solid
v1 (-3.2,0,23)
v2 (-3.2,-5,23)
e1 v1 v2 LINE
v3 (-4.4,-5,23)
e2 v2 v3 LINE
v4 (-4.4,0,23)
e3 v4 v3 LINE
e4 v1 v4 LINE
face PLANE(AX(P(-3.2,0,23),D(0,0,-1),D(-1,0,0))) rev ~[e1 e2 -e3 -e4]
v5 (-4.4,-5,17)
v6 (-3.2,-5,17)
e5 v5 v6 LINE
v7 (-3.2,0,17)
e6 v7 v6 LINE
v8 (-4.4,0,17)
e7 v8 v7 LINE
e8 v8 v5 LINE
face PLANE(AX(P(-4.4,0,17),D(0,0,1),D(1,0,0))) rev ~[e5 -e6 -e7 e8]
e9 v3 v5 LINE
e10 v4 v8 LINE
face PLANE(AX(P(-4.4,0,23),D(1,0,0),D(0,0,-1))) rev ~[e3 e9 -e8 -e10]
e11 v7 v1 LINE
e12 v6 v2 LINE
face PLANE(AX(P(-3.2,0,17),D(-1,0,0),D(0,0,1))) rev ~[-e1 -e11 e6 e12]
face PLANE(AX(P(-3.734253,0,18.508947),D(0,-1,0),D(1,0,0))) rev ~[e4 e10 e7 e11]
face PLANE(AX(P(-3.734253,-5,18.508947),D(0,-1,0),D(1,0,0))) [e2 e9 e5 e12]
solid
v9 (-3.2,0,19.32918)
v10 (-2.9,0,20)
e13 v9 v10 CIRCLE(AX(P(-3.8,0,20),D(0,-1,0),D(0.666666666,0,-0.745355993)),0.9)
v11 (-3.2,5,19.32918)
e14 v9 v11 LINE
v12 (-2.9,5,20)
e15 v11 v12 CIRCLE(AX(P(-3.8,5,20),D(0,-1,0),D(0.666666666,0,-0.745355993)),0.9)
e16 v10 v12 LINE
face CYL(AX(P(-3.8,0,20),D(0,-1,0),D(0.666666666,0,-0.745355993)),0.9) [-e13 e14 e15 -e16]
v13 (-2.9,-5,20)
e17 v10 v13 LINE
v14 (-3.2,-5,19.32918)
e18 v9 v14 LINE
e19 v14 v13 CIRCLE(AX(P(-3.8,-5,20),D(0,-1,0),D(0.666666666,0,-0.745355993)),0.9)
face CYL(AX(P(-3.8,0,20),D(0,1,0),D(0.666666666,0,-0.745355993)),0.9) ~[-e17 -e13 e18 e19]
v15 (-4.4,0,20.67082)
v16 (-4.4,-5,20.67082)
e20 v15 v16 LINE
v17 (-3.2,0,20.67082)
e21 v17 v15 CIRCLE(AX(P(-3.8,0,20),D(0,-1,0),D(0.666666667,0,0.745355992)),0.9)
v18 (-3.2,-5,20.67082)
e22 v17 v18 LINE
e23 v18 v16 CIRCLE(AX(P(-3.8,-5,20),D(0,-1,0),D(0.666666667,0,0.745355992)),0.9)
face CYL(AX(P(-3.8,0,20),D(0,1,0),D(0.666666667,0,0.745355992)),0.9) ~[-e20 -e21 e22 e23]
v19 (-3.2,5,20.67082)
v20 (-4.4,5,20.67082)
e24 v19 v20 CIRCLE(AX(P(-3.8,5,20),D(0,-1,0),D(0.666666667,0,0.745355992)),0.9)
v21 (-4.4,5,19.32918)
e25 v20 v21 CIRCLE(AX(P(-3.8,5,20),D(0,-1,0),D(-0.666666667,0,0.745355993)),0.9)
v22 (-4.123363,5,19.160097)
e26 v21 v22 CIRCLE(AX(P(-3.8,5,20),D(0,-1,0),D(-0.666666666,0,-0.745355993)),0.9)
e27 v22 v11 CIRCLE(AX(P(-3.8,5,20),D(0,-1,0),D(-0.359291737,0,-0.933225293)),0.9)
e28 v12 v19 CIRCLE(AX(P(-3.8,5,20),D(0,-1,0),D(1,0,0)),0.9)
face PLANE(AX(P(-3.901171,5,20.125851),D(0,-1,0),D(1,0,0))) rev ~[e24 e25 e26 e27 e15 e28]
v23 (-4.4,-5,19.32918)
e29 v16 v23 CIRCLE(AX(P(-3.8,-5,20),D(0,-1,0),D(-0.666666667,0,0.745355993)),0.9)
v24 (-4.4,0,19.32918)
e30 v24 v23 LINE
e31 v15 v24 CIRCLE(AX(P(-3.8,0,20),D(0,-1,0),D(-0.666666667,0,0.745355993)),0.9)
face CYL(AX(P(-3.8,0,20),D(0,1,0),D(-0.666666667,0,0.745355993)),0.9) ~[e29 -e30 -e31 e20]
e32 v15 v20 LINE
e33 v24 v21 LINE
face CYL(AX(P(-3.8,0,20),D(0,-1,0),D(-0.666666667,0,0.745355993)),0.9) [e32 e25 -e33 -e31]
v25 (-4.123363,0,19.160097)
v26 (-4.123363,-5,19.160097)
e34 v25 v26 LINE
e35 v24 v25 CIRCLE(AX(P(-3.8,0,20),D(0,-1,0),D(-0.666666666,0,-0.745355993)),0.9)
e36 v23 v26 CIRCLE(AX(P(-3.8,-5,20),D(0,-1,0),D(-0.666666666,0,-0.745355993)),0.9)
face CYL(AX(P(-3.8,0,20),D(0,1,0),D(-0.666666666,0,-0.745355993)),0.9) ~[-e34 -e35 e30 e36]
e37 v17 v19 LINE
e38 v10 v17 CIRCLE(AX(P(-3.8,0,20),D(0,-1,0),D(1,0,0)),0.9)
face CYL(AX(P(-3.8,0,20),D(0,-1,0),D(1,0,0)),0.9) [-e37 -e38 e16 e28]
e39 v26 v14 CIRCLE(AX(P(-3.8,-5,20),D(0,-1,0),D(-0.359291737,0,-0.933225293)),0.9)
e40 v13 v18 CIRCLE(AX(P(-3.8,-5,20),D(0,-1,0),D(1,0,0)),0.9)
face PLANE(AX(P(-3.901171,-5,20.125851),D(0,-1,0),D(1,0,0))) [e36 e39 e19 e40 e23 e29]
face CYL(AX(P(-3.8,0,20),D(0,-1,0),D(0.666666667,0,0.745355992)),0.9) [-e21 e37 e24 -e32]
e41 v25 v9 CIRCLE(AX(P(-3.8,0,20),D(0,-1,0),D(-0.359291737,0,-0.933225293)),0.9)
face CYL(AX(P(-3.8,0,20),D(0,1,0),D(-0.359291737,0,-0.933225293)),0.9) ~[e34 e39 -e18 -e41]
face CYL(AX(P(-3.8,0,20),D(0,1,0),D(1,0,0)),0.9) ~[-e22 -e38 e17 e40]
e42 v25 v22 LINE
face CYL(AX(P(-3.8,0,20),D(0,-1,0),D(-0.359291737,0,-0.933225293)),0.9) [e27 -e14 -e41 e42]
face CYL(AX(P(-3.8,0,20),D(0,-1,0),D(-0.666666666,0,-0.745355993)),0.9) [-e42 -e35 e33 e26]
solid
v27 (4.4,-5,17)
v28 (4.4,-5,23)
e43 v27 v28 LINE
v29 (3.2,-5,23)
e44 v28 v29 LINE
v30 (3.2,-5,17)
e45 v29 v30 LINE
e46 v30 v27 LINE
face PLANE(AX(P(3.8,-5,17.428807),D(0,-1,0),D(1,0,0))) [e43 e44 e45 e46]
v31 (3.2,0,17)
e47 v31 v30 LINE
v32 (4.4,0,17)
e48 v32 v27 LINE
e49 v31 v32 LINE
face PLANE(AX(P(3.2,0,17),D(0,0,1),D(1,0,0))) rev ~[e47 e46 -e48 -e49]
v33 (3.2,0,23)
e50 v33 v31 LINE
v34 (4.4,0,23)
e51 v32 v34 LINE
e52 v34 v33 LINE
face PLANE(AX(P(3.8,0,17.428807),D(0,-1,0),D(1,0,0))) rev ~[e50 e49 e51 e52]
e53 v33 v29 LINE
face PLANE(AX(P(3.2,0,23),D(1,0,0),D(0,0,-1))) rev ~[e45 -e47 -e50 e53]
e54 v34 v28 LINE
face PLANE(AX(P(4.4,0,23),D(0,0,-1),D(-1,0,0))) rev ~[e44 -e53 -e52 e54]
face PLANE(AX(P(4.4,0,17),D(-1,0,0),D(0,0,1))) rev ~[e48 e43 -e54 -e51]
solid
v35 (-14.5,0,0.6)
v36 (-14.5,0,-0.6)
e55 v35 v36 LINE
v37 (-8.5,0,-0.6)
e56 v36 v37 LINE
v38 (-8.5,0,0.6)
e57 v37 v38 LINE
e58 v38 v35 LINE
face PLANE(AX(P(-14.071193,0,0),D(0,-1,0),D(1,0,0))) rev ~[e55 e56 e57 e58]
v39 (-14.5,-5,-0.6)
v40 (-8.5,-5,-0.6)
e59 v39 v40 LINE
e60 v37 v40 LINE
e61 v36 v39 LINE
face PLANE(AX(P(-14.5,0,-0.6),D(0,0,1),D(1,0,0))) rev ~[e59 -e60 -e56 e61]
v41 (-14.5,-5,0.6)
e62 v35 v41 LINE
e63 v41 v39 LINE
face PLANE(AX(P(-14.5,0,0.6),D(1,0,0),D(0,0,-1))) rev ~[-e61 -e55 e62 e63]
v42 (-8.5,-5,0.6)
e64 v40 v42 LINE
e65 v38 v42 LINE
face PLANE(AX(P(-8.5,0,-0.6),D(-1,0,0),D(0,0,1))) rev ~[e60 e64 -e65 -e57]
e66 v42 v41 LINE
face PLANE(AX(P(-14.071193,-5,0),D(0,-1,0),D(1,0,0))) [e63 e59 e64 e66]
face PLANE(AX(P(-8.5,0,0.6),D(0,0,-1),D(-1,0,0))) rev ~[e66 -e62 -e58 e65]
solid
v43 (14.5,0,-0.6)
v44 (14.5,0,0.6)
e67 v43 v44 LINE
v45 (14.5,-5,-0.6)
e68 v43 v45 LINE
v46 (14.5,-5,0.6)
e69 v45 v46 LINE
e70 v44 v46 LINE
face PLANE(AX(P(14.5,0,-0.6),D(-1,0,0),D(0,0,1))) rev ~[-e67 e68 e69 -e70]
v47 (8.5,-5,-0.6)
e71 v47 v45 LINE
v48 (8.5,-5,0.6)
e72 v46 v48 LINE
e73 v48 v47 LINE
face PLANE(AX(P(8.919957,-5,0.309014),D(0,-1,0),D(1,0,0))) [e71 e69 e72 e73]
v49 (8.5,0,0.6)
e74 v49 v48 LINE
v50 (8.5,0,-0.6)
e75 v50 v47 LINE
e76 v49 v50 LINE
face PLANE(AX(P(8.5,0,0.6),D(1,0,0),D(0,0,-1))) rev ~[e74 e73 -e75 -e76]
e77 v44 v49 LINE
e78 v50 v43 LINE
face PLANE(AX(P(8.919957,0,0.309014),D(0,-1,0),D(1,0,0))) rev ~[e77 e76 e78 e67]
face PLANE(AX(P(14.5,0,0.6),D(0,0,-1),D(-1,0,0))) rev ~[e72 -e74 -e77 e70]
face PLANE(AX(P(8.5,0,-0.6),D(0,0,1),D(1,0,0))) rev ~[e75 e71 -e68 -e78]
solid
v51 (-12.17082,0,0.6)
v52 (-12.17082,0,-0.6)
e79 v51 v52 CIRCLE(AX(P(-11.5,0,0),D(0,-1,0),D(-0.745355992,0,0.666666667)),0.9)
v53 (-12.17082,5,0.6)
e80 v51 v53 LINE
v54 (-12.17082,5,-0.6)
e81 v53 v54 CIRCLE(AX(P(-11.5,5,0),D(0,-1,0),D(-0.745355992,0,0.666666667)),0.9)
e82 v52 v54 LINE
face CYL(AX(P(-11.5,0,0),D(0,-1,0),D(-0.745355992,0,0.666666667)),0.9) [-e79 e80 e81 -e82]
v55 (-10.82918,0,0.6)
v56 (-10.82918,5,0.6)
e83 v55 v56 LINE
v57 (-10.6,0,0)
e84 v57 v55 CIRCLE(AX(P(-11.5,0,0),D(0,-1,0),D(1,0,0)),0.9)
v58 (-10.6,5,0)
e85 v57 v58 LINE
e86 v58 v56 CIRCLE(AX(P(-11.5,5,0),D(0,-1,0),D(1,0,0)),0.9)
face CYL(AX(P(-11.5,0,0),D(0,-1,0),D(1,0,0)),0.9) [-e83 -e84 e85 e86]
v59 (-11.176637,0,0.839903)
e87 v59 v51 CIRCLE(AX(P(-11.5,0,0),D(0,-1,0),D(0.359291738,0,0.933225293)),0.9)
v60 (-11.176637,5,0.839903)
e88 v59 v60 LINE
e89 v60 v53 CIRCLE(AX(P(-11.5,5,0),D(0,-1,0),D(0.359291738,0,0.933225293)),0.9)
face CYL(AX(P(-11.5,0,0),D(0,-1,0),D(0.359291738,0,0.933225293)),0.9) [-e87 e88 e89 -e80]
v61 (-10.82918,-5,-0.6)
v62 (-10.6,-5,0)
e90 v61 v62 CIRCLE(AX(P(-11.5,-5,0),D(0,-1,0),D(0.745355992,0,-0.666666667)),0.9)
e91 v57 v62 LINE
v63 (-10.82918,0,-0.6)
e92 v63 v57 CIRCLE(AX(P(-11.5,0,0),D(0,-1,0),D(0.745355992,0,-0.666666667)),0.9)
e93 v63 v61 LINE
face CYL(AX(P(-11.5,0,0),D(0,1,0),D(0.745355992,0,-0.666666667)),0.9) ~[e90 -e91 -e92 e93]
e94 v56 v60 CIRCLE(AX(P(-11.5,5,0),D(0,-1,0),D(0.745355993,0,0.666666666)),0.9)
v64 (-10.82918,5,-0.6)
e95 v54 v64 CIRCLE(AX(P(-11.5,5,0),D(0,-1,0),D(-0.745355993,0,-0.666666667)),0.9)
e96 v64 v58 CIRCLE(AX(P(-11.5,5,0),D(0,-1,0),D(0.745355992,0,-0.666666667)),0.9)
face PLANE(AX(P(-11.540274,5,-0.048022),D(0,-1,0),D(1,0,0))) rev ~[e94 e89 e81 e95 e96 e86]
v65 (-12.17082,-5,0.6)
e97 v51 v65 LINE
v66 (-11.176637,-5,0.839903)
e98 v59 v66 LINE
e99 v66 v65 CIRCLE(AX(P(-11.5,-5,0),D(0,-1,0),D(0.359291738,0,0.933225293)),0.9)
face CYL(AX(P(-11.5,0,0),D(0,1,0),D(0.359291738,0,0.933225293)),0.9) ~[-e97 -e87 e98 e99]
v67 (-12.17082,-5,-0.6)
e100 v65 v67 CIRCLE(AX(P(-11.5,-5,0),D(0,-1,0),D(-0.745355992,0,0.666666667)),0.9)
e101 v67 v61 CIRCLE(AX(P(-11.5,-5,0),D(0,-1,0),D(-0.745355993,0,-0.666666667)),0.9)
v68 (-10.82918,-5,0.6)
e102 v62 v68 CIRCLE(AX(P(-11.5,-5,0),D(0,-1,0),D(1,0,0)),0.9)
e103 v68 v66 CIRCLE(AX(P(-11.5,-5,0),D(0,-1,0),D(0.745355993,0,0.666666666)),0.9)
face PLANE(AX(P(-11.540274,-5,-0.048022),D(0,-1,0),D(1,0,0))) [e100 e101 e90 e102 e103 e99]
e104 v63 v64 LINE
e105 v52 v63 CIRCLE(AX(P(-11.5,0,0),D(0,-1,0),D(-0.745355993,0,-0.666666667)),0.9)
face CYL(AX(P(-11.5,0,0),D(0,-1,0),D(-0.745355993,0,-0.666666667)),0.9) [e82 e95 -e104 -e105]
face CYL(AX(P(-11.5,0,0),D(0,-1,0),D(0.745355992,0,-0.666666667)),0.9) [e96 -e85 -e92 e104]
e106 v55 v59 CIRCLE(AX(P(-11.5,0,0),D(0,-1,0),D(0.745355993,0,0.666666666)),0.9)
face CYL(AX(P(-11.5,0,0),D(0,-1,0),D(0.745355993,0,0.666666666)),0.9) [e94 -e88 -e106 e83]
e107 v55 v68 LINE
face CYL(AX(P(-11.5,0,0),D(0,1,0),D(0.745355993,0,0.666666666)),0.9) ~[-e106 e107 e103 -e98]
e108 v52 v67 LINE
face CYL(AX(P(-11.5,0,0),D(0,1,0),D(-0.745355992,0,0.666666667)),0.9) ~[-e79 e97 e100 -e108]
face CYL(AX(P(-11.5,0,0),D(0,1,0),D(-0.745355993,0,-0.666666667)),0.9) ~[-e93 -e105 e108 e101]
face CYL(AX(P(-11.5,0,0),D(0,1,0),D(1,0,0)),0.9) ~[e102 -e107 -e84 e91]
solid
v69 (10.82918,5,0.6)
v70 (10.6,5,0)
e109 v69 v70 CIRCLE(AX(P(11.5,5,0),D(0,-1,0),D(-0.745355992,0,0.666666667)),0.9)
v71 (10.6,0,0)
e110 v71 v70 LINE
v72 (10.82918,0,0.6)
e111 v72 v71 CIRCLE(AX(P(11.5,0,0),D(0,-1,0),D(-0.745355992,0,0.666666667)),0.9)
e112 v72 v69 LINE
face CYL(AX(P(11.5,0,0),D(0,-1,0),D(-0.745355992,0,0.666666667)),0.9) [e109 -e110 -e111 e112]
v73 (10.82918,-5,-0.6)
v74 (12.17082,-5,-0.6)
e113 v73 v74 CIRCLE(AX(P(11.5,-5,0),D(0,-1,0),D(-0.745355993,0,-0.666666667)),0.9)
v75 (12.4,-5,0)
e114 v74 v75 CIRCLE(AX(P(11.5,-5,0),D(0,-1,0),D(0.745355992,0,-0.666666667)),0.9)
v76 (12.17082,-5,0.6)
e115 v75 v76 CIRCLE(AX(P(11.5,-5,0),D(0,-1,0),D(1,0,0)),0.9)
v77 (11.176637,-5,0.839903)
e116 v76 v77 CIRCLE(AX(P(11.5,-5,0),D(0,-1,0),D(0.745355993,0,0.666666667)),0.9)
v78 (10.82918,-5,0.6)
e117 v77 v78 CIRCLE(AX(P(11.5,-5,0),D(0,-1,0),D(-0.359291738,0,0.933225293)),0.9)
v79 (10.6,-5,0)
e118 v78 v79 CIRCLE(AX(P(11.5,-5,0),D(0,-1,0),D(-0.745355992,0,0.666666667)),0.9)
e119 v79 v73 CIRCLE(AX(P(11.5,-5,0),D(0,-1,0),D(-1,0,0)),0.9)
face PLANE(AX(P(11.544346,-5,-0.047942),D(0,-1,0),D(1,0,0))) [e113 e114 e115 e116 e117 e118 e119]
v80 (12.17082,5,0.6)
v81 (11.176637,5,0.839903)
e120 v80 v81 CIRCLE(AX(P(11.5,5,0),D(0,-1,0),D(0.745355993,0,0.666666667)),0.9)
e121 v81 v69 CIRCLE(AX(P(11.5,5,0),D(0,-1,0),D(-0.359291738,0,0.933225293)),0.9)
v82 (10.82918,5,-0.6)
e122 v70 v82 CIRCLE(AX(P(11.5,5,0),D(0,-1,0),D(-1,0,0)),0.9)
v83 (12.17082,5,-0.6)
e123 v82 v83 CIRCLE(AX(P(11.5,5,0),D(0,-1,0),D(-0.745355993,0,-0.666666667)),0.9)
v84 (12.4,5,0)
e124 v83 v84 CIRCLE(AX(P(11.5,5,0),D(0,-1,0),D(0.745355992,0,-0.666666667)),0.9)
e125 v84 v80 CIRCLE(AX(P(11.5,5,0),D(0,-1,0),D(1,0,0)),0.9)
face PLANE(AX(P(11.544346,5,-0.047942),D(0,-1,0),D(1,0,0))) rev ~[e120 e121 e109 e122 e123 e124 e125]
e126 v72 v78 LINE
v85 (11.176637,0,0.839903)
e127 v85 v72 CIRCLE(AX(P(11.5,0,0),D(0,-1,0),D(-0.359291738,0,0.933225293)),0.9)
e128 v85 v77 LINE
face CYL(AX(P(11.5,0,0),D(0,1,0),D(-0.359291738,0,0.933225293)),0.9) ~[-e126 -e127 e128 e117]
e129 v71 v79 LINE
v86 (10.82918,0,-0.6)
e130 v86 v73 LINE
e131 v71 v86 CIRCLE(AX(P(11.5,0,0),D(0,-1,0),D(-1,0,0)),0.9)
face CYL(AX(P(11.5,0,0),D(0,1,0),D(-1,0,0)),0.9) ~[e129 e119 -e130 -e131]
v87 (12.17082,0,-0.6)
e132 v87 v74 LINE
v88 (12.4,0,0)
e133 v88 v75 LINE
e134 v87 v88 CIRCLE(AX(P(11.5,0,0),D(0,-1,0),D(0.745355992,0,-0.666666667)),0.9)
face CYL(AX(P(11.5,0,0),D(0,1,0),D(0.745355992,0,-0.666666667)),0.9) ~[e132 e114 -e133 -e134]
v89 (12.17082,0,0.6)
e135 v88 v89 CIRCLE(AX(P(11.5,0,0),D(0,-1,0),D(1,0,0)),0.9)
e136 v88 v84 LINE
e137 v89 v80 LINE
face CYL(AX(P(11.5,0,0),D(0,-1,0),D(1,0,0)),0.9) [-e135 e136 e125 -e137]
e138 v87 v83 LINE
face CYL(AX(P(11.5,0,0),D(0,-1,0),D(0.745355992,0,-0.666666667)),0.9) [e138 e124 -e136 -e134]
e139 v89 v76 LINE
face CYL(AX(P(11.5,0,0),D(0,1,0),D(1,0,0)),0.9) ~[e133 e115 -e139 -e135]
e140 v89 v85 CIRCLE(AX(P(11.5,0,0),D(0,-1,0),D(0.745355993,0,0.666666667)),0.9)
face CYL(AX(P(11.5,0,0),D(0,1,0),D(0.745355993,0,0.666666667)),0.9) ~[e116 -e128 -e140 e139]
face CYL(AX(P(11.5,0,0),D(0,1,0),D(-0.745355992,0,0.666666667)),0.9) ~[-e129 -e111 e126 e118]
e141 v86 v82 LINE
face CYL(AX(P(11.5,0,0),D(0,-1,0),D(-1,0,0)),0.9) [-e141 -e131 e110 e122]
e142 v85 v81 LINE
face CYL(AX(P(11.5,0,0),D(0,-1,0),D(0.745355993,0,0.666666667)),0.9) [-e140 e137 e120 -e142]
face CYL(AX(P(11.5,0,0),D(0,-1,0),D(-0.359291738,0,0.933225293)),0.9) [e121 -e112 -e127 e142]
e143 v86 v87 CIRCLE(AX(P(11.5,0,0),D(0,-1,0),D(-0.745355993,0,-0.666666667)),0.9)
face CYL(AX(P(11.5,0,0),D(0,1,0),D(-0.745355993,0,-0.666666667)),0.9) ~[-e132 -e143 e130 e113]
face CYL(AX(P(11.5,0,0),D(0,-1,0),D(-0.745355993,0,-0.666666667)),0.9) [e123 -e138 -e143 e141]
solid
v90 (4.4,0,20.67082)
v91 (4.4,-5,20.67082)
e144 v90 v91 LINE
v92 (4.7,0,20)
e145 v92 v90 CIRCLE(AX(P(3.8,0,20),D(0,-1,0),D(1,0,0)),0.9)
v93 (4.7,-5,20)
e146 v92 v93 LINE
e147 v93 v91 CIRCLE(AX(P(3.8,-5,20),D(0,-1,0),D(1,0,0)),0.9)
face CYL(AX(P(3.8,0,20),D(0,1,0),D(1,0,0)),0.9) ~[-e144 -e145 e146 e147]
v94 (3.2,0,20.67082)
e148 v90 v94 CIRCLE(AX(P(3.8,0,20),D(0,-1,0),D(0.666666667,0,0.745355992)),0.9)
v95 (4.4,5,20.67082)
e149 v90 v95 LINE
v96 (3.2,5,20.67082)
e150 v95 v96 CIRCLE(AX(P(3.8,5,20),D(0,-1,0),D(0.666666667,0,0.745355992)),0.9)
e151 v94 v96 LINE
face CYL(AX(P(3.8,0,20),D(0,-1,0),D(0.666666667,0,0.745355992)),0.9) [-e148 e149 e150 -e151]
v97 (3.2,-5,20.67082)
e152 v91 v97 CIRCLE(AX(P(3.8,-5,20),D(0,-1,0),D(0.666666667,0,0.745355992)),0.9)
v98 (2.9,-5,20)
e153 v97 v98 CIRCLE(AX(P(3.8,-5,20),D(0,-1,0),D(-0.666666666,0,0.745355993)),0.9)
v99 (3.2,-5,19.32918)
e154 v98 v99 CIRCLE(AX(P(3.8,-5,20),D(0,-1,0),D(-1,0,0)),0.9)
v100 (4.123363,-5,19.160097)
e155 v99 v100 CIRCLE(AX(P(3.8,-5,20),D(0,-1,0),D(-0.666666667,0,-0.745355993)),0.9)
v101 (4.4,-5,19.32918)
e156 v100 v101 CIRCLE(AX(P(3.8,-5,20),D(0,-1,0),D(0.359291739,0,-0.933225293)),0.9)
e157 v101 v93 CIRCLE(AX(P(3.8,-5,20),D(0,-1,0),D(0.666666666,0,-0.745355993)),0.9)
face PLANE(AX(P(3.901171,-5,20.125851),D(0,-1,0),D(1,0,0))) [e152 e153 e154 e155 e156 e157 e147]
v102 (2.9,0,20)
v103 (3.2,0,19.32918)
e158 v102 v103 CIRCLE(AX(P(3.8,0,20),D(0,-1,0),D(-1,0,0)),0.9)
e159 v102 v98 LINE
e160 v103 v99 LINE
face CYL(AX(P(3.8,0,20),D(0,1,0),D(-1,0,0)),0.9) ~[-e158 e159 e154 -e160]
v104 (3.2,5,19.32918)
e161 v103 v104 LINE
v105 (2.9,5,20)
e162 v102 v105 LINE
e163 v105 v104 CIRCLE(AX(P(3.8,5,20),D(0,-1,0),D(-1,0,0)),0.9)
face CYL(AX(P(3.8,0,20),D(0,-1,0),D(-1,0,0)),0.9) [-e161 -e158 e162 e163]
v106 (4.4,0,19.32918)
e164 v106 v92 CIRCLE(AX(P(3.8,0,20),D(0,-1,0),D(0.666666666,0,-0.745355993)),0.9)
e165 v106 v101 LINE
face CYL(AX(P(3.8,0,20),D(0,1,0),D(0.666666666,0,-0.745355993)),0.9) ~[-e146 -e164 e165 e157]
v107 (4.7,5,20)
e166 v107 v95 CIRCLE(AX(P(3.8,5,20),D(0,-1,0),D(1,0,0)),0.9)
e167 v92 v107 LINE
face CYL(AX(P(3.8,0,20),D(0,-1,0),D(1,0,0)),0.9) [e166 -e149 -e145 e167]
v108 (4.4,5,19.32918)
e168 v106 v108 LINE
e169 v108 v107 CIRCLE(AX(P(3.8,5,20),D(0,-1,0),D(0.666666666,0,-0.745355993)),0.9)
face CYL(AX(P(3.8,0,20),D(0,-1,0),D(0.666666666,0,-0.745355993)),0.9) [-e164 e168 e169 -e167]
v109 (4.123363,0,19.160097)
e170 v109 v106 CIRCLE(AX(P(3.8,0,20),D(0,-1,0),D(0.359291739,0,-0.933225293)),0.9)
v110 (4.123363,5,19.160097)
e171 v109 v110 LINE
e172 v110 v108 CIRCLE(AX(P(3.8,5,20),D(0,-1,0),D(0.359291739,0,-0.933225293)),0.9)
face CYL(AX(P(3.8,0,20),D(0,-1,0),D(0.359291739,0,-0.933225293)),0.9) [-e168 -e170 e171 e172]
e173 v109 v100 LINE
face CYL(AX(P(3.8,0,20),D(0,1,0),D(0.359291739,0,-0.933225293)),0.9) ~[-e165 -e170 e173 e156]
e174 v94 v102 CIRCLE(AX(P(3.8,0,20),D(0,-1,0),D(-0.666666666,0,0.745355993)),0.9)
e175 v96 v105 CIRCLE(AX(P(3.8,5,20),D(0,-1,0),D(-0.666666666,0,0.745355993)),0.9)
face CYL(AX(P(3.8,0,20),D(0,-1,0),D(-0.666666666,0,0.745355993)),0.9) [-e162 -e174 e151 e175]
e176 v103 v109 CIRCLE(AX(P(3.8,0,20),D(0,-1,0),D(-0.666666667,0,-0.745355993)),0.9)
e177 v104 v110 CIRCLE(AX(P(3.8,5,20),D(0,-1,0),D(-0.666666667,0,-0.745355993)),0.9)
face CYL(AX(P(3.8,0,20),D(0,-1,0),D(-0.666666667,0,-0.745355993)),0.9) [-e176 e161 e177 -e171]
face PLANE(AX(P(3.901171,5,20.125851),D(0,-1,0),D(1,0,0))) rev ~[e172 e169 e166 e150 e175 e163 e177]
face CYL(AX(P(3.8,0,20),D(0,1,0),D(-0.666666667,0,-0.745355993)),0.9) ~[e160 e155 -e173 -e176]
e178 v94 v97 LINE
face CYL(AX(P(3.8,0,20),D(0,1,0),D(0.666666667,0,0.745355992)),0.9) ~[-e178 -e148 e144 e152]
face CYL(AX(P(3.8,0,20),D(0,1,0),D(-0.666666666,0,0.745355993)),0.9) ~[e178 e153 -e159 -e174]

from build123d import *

# Parameters (mm, degrees)
F1_DEPTH      = 5
F1_DEPTH_BACK = 5
F2_DEPTH      = 5


with BuildPart() as f1:
    # F0 (on Front) → F1 (new body, two sides)
    with BuildSketch(Plane.XZ) as f1_sk:
        with BuildLine():
            Line((-3.8, 20), (-3.2, 20))
            Line((-3.2, 20), (-3.2, 20.6708203932))
            ThreePointArc((-3.2, 20.6708203932), (-3.8, 20.9), (-4.4, 20.6708203932))
            Line((-4.4, 20.6708203932), (-4.4, 19.3291796068))
            ThreePointArc((-4.4, 19.3291796068), (-4.2693578785, 19.2320786617), (-4.123362564, 19.1600972364))
            Line((-4.123362564, 19.1600972364), (-3.8, 20))
        make_face()
        with BuildLine():
            Line((-3.2, 19.3291796068), (-3.2, 20))
            Line((-3.2, 20), (-3.8, 20))
            Line((-3.8, 20), (-4.123362564, 19.1600972364))
            ThreePointArc((-4.123362564, 19.1600972364), (-3.6378911485, 19.1147199764), (-3.2, 19.3291796068))
        make_face()
        with BuildLine():
            Line((-4.4, 19.3291796068), (-4.4, 20.6708203932))
            ThreePointArc((-4.4, 20.6708203932), (-4.7, 20), (-4.4, 19.3291796068))
        make_face()
        with BuildLine():
            Line((-3.2, 20), (-2.9, 20))
            ThreePointArc((-2.9, 20), (-2.9784161637, 20.3674234614), (-3.2, 20.6708203932))
            Line((-3.2, 20.6708203932), (-3.2, 20))
        make_face()
        with BuildLine():
            ThreePointArc((-3.2, 19.3291796068), (-2.9784161637, 19.6325765386), (-2.9, 20))
            Line((-2.9, 20), (-3.2, 20))
            Line((-3.2, 20), (-3.2, 19.3291796068))
        make_face()
    extrude(amount=-F1_DEPTH)
    extrude(f1_sk.sketch, amount=F1_DEPTH_BACK)


with BuildPart() as f1b:
    # F0 (on Front) → F1, piece 2 (new body, two sides)
    with BuildSketch(Plane.XZ) as f1_2_sk:
        with BuildLine():
            Line((3.2, 20.6708203932), (3.2, 20))
            Line((3.2, 20), (3.8, 20))
            Line((3.8, 20), (4.123362564, 19.1600972364))
            ThreePointArc((4.123362564, 19.1600972364), (4.2693578785, 19.2320786617), (4.4, 19.3291796068))
            Line((4.4, 19.3291796068), (4.4, 20.6708203932))
            ThreePointArc((4.4, 20.6708203932), (3.8, 20.9), (3.2, 20.6708203932))
        make_face()
        with BuildLine():
            Line((3.8, 20), (3.2, 20))
            Line((3.2, 20), (3.2, 19.3291796068))
            ThreePointArc((3.2, 19.3291796068), (3.6378911485, 19.1147199764), (4.123362564, 19.1600972364))
            Line((4.123362564, 19.1600972364), (3.8, 20))
        make_face()
        with BuildLine():
            ThreePointArc((4.7, 20), (4.6215838363, 20.3674234614), (4.4, 20.6708203932))
            Line((4.4, 20.6708203932), (4.4, 19.3291796068))
            ThreePointArc((4.4, 19.3291796068), (4.6215838363, 19.6325765386), (4.7, 20))
        make_face()
        with BuildLine():
            ThreePointArc((3.2, 20.6708203932), (2.9784161637, 20.3674234614), (2.9, 20))
            Line((2.9, 20), (3.2, 20))
            Line((3.2, 20), (3.2, 20.6708203932))
        make_face()
        with BuildLine():
            Line((3.2, 20), (2.9, 20))
            ThreePointArc((2.9, 20), (2.9784161637, 19.6325765386), (3.2, 19.3291796068))
            Line((3.2, 19.3291796068), (3.2, 20))
        make_face()
    extrude(amount=-F1_DEPTH)
    extrude(f1_2_sk.sketch, amount=F1_DEPTH_BACK)


with BuildPart() as f1c:
    # F0 (on Front) → F1, piece 3 (new body, two sides)
    with BuildSketch(Plane.XZ) as f1_3_sk:
        with BuildLine():
            Line((-11.5, 0), (-11.269, 0.6))
            Line((-11.269, 0.6), (-12.1708203932, 0.6))
            ThreePointArc((-12.1708203932, 0.6), (-12.4, 0), (-12.1708203932, -0.6))
            Line((-12.1708203932, -0.6), (-10.8291796068, -0.6))
            ThreePointArc((-10.8291796068, -0.6), (-10.6592448769, -0.3211398808), (-10.6, 0))
            Line((-10.6, 0), (-11.5, 0))
        make_face()
        with BuildLine():
            Line((-10.8291796068, 0.6), (-11.269, 0.6))
            Line((-11.269, 0.6), (-11.5, 0))
            Line((-11.5, 0), (-10.6, 0))
            ThreePointArc((-10.6, 0), (-10.6592448769, 0.3211398808), (-10.8291796068, 0.6))
        make_face()
        with BuildLine():
            Line((-10.8291796068, -0.6), (-12.1708203932, -0.6))
            ThreePointArc((-12.1708203932, -0.6), (-11.5, -0.9), (-10.8291796068, -0.6))
        make_face()
        with BuildLine():
            Line((-11.269, 0.6), (-11.176637436, 0.8399027636))
            ThreePointArc((-11.176637436, 0.8399027636), (-11.7111162471, 0.8748885245), (-12.1708203932, 0.6))
            Line((-12.1708203932, 0.6), (-11.269, 0.6))
        make_face()
        with BuildLine():
            ThreePointArc((-10.8291796068, 0.6), (-10.9886407602, 0.7406157762), (-11.176637436, 0.8399027636))
            Line((-11.176637436, 0.8399027636), (-11.269, 0.6))
            Line((-11.269, 0.6), (-10.8291796068, 0.6))
        make_face()
    extrude(amount=-F1_DEPTH)
    extrude(f1_3_sk.sketch, amount=F1_DEPTH_BACK)


with BuildPart() as f1d:
    # F0 (on Front) → F1, piece 4 (new body, two sides)
    with BuildSketch(Plane.XZ) as f1_4_sk:
        with BuildLine():
            Line((12.1708203932, 0.6), (11.269, 0.6))
            Line((11.269, 0.6), (11.5, 0))
            Line((11.5, 0), (10.6, 0))
            ThreePointArc((10.6, 0), (10.6592448769, -0.3211398808), (10.8291796068, -0.6))
            Line((10.8291796068, -0.6), (12.1708203932, -0.6))
            ThreePointArc((12.1708203932, -0.6), (12.3407551231, -0.3211398808), (12.4, 0))
            ThreePointArc((12.4, 0), (12.3407551231, 0.3211398808), (12.1708203932, 0.6))
        make_face()
        with BuildLine():
            Line((11.5, 0), (11.269, 0.6))
            Line((11.269, 0.6), (10.8291796068, 0.6))
            ThreePointArc((10.8291796068, 0.6), (10.6592448769, 0.3211398808), (10.6, 0))
            Line((10.6, 0), (11.5, 0))
        make_face()
        with BuildLine():
            ThreePointArc((12.1708203932, 0.6), (11.7111162471, 0.8748885245), (11.176637436, 0.8399027636))
            Line((11.176637436, 0.8399027636), (11.269, 0.6))
            Line((11.269, 0.6), (12.1708203932, 0.6))
        make_face()
        with BuildLine():
            Line((11.269, 0.6), (11.176637436, 0.8399027636))
            ThreePointArc((11.176637436, 0.8399027636), (10.9886407602, 0.7406157762), (10.8291796068, 0.6))
            Line((10.8291796068, 0.6), (11.269, 0.6))
        make_face()
        with BuildLine():
            ThreePointArc((10.8291796068, -0.6), (11.5, -0.9), (12.1708203932, -0.6))
            Line((12.1708203932, -0.6), (10.8291796068, -0.6))
        make_face()
    extrude(amount=-F1_DEPTH)
    extrude(f1_4_sk.sketch, amount=F1_DEPTH_BACK)


with BuildPart() as f2:
    # F0 (on Front) → F2 (new body)
    with BuildSketch(Plane.XZ):
        with BuildLine():
            ThreePointArc((-13.6166010489, -0.6), (-13.7, 0), (-13.6166010489, 0.6))
            Line((-13.6166010489, 0.6), (-14.5, 0.6))
            Line((-14.5, 0.6), (-14.5, -0.6))
            Line((-14.5, -0.6), (-13.6166010489, -0.6))
        make_face()
        with BuildLine():
            Line((-12.1708203932, 0.6), (-13.6166010489, 0.6))
            ThreePointArc((-13.6166010489, 0.6), (-13.7, 0), (-13.6166010489, -0.6))
            Line((-13.6166010489, -0.6), (-12.1708203932, -0.6))
            ThreePointArc((-12.1708203932, -0.6), (-12.4, 0), (-12.1708203932, 0.6))
        make_face()
        with BuildLine():
            Line((-11.5, 0), (-11.269, 0.6))
            Line((-11.269, 0.6), (-12.1708203932, 0.6))
            ThreePointArc((-12.1708203932, 0.6), (-12.4, 0), (-12.1708203932, -0.6))
            Line((-12.1708203932, -0.6), (-10.8291796068, -0.6))
            ThreePointArc((-10.8291796068, -0.6), (-10.6592448769, -0.3211398808), (-10.6, 0))
            Line((-10.6, 0), (-11.5, 0))
        make_face()
        with BuildLine():
            ThreePointArc((-9.3, 0), (-9.3209494834, 0.3028842126), (-9.3833989511, 0.6))
            Line((-9.3833989511, 0.6), (-10.8291796068, 0.6))
            ThreePointArc((-10.8291796068, 0.6), (-10.6592448769, 0.3211398808), (-10.6, 0))
            Line((-10.6, 0), (-9.3, 0))
        make_face()
        with BuildLine():
            ThreePointArc((-9.3833989511, -0.6), (-9.3209494834, -0.3028842126), (-9.3, 0))
            Line((-9.3, 0), (-10.6, 0))
            ThreePointArc((-10.6, 0), (-10.6592448769, -0.3211398808), (-10.8291796068, -0.6))
            Line((-10.8291796068, -0.6), (-9.3833989511, -0.6))
        make_face()
        with BuildLine():
            Line((-8.5, 0), (-9.3, 0))
            ThreePointArc((-9.3, 0), (-9.3209494834, -0.3028842126), (-9.3833989511, -0.6))
            Line((-9.3833989511, -0.6), (-8.5, -0.6))
            Line((-8.5, -0.6), (-8.5, 0))
        make_face()
        with BuildLine():
            Line((-8.5, 0.6), (-9.3833989511, 0.6))
            ThreePointArc((-9.3833989511, 0.6), (-9.3209494834, 0.3028842126), (-9.3, 0))
            Line((-9.3, 0), (-8.5, 0))
            Line((-8.5, 0), (-8.5, 0.6))
        make_face()
        with BuildLine():
            Line((-10.8291796068, 0.6), (-11.269, 0.6))
            Line((-11.269, 0.6), (-11.5, 0))
            Line((-11.5, 0), (-10.6, 0))
            ThreePointArc((-10.6, 0), (-10.6592448769, 0.3211398808), (-10.8291796068, 0.6))
        make_face()
    extrude(amount=F2_DEPTH)


with BuildPart() as f2b:
    # F0 (on Front) → F2, piece 2 (new body)
    with BuildSketch(Plane.XZ):
        with BuildLine():
            ThreePointArc((9.3, 0), (9.3209494834, 0.3028842126), (9.3833989511, 0.6))
            Line((9.3833989511, 0.6), (8.5, 0.6))
            Line((8.5, 0.6), (8.5, 0))
            Line((8.5, 0), (9.3, 0))
        make_face()
        with BuildLine():
            ThreePointArc((9.3833989511, -0.6), (9.3209494834, -0.3028842126), (9.3, 0))
            Line((9.3, 0), (8.5, 0))
            Line((8.5, 0), (8.5, -0.6))
            Line((8.5, -0.6), (9.3833989511, -0.6))
        make_face()
        with BuildLine():
            Line((10.6, 0), (9.3, 0))
            ThreePointArc((9.3, 0), (9.3209494834, -0.3028842126), (9.3833989511, -0.6))
            Line((9.3833989511, -0.6), (10.8291796068, -0.6))
            ThreePointArc((10.8291796068, -0.6), (10.6592448769, -0.3211398808), (10.6, 0))
        make_face()
        with BuildLine():
            Line((10.8291796068, 0.6), (9.3833989511, 0.6))
            ThreePointArc((9.3833989511, 0.6), (9.3209494834, 0.3028842126), (9.3, 0))
            Line((9.3, 0), (10.6, 0))
            ThreePointArc((10.6, 0), (10.6592448769, 0.3211398808), (10.8291796068, 0.6))
        make_face()
        with BuildLine():
            Line((11.5, 0), (11.269, 0.6))
            Line((11.269, 0.6), (10.8291796068, 0.6))
            ThreePointArc((10.8291796068, 0.6), (10.6592448769, 0.3211398808), (10.6, 0))
            Line((10.6, 0), (11.5, 0))
        make_face()
        with BuildLine():
            Line((12.1708203932, 0.6), (11.269, 0.6))
            Line((11.269, 0.6), (11.5, 0))
            Line((11.5, 0), (10.6, 0))
            ThreePointArc((10.6, 0), (10.6592448769, -0.3211398808), (10.8291796068, -0.6))
            Line((10.8291796068, -0.6), (12.1708203932, -0.6))
            ThreePointArc((12.1708203932, -0.6), (12.3407551231, -0.3211398808), (12.4, 0))
            ThreePointArc((12.4, 0), (12.3407551231, 0.3211398808), (12.1708203932, 0.6))
        make_face()
        with BuildLine():
            ThreePointArc((13.7, 0), (13.6790505166, 0.3028842126), (13.6166010489, 0.6))
            Line((13.6166010489, 0.6), (12.1708203932, 0.6))
            ThreePointArc((12.1708203932, 0.6), (12.3407551231, 0.3211398808), (12.4, 0))
            ThreePointArc((12.4, 0), (12.3407551231, -0.3211398808), (12.1708203932, -0.6))
            Line((12.1708203932, -0.6), (13.6166010489, -0.6))
            ThreePointArc((13.6166010489, -0.6), (13.6790505166, -0.3028842126), (13.7, 0))
        make_face()
        with BuildLine():
            Line((14.5, 0.6), (13.6166010489, 0.6))
            ThreePointArc((13.6166010489, 0.6), (13.6790505166, 0.3028842126), (13.7, 0))
            ThreePointArc((13.7, 0), (13.6790505166, -0.3028842126), (13.6166010489, -0.6))
            Line((13.6166010489, -0.6), (14.5, -0.6))
            Line((14.5, -0.6), (14.5, 0.6))
        make_face()
    extrude(amount=F2_DEPTH)


with BuildPart() as f2c:
    # F0 (on Front) → F2, piece 3 (new body)
    with BuildSketch(Plane.XZ):
        with BuildLine():
            ThreePointArc((4.4, 17.8833989511), (3.8, 17.8), (3.2, 17.8833989511))
            Line((3.2, 17.8833989511), (3.2, 17))
            Line((3.2, 17), (4.4, 17))
            Line((4.4, 17), (4.4, 17.8833989511))
        make_face()
        with BuildLine():
            Line((3.2, 19.3291796068), (3.2, 17.8833989511))
            ThreePointArc((3.2, 17.8833989511), (3.8, 17.8), (4.4, 17.8833989511))
            Line((4.4, 17.8833989511), (4.4, 18.4415584416))
            Line((4.4, 18.4415584416), (4.123362564, 19.1600972364))
            ThreePointArc((4.123362564, 19.1600972364), (3.6378911485, 19.1147199764), (3.2, 19.3291796068))
        make_face()
        with BuildLine():
            Line((3.8, 20), (3.2, 20))
            Line((3.2, 20), (3.2, 19.3291796068))
            ThreePointArc((3.2, 19.3291796068), (3.6378911485, 19.1147199764), (4.123362564, 19.1600972364))
            Line((4.123362564, 19.1600972364), (3.8, 20))
        make_face()
        with BuildLine():
            ThreePointArc((4.4, 19.3291796068), (4.2693578785, 19.2320786617), (4.123362564, 19.1600972364))
            Line((4.123362564, 19.1600972364), (4.4, 18.4415584416))
            Line((4.4, 18.4415584416), (4.4, 19.3291796068))
        make_face()
        with BuildLine():
            Line((3.2, 20.6708203932), (3.2, 20))
            Line((3.2, 20), (3.8, 20))
            Line((3.8, 20), (4.123362564, 19.1600972364))
            ThreePointArc((4.123362564, 19.1600972364), (4.2693578785, 19.2320786617), (4.4, 19.3291796068))
            Line((4.4, 19.3291796068), (4.4, 20.6708203932))
            ThreePointArc((4.4, 20.6708203932), (3.8, 20.9), (3.2, 20.6708203932))
        make_face()
        with BuildLine():
            ThreePointArc((4.4, 22.1166010489), (3.8, 22.2), (3.2, 22.1166010489))
            Line((3.2, 22.1166010489), (3.2, 20.6708203932))
            ThreePointArc((3.2, 20.6708203932), (3.8, 20.9), (4.4, 20.6708203932))
            Line((4.4, 20.6708203932), (4.4, 22.1166010489))
        make_face()
        with BuildLine():
            Line((3.2, 23), (3.2, 22.1166010489))
            ThreePointArc((3.2, 22.1166010489), (3.8, 22.2), (4.4, 22.1166010489))
            Line((4.4, 22.1166010489), (4.4, 23))
            Line((4.4, 23), (3.2, 23))
        make_face()
    extrude(amount=F2_DEPTH)


with BuildPart() as f2d:
    # F0 (on Front) → F2, piece 4 (new body)
    with BuildSketch(Plane.XZ):
        with BuildLine():
            Line((-3.2, 17.8833989511), (-3.2, 19.3291796068))
            ThreePointArc((-3.2, 19.3291796068), (-3.6378911485, 19.1147199764), (-4.123362564, 19.1600972364))
            Line((-4.123362564, 19.1600972364), (-4.4, 18.4415584416))
            Line((-4.4, 18.4415584416), (-4.4, 17.8833989511))
            ThreePointArc((-4.4, 17.8833989511), (-3.8, 17.8), (-3.2, 17.8833989511))
        make_face()
        with BuildLine():
            Line((-3.2, 17), (-3.2, 17.8833989511))
            ThreePointArc((-3.2, 17.8833989511), (-3.8, 17.8), (-4.4, 17.8833989511))
            Line((-4.4, 17.8833989511), (-4.4, 17))
            Line((-4.4, 17), (-3.2, 17))
        make_face()
        with BuildLine():
            Line((-4.4, 18.4415584416), (-4.123362564, 19.1600972364))
            ThreePointArc((-4.123362564, 19.1600972364), (-4.2693578785, 19.2320786617), (-4.4, 19.3291796068))
            Line((-4.4, 19.3291796068), (-4.4, 18.4415584416))
        make_face()
        with BuildLine():
            Line((-3.8, 20), (-3.2, 20))
            Line((-3.2, 20), (-3.2, 20.6708203932))
            ThreePointArc((-3.2, 20.6708203932), (-3.8, 20.9), (-4.4, 20.6708203932))
            Line((-4.4, 20.6708203932), (-4.4, 19.3291796068))
            ThreePointArc((-4.4, 19.3291796068), (-4.2693578785, 19.2320786617), (-4.123362564, 19.1600972364))
            Line((-4.123362564, 19.1600972364), (-3.8, 20))
        make_face()
        with BuildLine():
            Line((-3.2, 19.3291796068), (-3.2, 20))
            Line((-3.2, 20), (-3.8, 20))
            Line((-3.8, 20), (-4.123362564, 19.1600972364))
            ThreePointArc((-4.123362564, 19.1600972364), (-3.6378911485, 19.1147199764), (-3.2, 19.3291796068))
        make_face()
        with BuildLine():
            ThreePointArc((-4.4, 20.6708203932), (-3.8, 20.9), (-3.2, 20.6708203932))
            Line((-3.2, 20.6708203932), (-3.2, 22.1166010489))
            ThreePointArc((-3.2, 22.1166010489), (-3.8, 22.2), (-4.4, 22.1166010489))
            Line((-4.4, 22.1166010489), (-4.4, 20.6708203932))
        make_face()
        with BuildLine():
            ThreePointArc((-4.4, 22.1166010489), (-3.8, 22.2), (-3.2, 22.1166010489))
            Line((-3.2, 22.1166010489), (-3.2, 23))
            Line((-3.2, 23), (-4.4, 23))
            Line((-4.4, 23), (-4.4, 22.1166010489))
        make_face()
    extrude(amount=F2_DEPTH)


solid = Compound([f1.part, f1b.part, f1c.part, f1d.part, f2.part, f2b.part, f2c.part, f2d.part])
